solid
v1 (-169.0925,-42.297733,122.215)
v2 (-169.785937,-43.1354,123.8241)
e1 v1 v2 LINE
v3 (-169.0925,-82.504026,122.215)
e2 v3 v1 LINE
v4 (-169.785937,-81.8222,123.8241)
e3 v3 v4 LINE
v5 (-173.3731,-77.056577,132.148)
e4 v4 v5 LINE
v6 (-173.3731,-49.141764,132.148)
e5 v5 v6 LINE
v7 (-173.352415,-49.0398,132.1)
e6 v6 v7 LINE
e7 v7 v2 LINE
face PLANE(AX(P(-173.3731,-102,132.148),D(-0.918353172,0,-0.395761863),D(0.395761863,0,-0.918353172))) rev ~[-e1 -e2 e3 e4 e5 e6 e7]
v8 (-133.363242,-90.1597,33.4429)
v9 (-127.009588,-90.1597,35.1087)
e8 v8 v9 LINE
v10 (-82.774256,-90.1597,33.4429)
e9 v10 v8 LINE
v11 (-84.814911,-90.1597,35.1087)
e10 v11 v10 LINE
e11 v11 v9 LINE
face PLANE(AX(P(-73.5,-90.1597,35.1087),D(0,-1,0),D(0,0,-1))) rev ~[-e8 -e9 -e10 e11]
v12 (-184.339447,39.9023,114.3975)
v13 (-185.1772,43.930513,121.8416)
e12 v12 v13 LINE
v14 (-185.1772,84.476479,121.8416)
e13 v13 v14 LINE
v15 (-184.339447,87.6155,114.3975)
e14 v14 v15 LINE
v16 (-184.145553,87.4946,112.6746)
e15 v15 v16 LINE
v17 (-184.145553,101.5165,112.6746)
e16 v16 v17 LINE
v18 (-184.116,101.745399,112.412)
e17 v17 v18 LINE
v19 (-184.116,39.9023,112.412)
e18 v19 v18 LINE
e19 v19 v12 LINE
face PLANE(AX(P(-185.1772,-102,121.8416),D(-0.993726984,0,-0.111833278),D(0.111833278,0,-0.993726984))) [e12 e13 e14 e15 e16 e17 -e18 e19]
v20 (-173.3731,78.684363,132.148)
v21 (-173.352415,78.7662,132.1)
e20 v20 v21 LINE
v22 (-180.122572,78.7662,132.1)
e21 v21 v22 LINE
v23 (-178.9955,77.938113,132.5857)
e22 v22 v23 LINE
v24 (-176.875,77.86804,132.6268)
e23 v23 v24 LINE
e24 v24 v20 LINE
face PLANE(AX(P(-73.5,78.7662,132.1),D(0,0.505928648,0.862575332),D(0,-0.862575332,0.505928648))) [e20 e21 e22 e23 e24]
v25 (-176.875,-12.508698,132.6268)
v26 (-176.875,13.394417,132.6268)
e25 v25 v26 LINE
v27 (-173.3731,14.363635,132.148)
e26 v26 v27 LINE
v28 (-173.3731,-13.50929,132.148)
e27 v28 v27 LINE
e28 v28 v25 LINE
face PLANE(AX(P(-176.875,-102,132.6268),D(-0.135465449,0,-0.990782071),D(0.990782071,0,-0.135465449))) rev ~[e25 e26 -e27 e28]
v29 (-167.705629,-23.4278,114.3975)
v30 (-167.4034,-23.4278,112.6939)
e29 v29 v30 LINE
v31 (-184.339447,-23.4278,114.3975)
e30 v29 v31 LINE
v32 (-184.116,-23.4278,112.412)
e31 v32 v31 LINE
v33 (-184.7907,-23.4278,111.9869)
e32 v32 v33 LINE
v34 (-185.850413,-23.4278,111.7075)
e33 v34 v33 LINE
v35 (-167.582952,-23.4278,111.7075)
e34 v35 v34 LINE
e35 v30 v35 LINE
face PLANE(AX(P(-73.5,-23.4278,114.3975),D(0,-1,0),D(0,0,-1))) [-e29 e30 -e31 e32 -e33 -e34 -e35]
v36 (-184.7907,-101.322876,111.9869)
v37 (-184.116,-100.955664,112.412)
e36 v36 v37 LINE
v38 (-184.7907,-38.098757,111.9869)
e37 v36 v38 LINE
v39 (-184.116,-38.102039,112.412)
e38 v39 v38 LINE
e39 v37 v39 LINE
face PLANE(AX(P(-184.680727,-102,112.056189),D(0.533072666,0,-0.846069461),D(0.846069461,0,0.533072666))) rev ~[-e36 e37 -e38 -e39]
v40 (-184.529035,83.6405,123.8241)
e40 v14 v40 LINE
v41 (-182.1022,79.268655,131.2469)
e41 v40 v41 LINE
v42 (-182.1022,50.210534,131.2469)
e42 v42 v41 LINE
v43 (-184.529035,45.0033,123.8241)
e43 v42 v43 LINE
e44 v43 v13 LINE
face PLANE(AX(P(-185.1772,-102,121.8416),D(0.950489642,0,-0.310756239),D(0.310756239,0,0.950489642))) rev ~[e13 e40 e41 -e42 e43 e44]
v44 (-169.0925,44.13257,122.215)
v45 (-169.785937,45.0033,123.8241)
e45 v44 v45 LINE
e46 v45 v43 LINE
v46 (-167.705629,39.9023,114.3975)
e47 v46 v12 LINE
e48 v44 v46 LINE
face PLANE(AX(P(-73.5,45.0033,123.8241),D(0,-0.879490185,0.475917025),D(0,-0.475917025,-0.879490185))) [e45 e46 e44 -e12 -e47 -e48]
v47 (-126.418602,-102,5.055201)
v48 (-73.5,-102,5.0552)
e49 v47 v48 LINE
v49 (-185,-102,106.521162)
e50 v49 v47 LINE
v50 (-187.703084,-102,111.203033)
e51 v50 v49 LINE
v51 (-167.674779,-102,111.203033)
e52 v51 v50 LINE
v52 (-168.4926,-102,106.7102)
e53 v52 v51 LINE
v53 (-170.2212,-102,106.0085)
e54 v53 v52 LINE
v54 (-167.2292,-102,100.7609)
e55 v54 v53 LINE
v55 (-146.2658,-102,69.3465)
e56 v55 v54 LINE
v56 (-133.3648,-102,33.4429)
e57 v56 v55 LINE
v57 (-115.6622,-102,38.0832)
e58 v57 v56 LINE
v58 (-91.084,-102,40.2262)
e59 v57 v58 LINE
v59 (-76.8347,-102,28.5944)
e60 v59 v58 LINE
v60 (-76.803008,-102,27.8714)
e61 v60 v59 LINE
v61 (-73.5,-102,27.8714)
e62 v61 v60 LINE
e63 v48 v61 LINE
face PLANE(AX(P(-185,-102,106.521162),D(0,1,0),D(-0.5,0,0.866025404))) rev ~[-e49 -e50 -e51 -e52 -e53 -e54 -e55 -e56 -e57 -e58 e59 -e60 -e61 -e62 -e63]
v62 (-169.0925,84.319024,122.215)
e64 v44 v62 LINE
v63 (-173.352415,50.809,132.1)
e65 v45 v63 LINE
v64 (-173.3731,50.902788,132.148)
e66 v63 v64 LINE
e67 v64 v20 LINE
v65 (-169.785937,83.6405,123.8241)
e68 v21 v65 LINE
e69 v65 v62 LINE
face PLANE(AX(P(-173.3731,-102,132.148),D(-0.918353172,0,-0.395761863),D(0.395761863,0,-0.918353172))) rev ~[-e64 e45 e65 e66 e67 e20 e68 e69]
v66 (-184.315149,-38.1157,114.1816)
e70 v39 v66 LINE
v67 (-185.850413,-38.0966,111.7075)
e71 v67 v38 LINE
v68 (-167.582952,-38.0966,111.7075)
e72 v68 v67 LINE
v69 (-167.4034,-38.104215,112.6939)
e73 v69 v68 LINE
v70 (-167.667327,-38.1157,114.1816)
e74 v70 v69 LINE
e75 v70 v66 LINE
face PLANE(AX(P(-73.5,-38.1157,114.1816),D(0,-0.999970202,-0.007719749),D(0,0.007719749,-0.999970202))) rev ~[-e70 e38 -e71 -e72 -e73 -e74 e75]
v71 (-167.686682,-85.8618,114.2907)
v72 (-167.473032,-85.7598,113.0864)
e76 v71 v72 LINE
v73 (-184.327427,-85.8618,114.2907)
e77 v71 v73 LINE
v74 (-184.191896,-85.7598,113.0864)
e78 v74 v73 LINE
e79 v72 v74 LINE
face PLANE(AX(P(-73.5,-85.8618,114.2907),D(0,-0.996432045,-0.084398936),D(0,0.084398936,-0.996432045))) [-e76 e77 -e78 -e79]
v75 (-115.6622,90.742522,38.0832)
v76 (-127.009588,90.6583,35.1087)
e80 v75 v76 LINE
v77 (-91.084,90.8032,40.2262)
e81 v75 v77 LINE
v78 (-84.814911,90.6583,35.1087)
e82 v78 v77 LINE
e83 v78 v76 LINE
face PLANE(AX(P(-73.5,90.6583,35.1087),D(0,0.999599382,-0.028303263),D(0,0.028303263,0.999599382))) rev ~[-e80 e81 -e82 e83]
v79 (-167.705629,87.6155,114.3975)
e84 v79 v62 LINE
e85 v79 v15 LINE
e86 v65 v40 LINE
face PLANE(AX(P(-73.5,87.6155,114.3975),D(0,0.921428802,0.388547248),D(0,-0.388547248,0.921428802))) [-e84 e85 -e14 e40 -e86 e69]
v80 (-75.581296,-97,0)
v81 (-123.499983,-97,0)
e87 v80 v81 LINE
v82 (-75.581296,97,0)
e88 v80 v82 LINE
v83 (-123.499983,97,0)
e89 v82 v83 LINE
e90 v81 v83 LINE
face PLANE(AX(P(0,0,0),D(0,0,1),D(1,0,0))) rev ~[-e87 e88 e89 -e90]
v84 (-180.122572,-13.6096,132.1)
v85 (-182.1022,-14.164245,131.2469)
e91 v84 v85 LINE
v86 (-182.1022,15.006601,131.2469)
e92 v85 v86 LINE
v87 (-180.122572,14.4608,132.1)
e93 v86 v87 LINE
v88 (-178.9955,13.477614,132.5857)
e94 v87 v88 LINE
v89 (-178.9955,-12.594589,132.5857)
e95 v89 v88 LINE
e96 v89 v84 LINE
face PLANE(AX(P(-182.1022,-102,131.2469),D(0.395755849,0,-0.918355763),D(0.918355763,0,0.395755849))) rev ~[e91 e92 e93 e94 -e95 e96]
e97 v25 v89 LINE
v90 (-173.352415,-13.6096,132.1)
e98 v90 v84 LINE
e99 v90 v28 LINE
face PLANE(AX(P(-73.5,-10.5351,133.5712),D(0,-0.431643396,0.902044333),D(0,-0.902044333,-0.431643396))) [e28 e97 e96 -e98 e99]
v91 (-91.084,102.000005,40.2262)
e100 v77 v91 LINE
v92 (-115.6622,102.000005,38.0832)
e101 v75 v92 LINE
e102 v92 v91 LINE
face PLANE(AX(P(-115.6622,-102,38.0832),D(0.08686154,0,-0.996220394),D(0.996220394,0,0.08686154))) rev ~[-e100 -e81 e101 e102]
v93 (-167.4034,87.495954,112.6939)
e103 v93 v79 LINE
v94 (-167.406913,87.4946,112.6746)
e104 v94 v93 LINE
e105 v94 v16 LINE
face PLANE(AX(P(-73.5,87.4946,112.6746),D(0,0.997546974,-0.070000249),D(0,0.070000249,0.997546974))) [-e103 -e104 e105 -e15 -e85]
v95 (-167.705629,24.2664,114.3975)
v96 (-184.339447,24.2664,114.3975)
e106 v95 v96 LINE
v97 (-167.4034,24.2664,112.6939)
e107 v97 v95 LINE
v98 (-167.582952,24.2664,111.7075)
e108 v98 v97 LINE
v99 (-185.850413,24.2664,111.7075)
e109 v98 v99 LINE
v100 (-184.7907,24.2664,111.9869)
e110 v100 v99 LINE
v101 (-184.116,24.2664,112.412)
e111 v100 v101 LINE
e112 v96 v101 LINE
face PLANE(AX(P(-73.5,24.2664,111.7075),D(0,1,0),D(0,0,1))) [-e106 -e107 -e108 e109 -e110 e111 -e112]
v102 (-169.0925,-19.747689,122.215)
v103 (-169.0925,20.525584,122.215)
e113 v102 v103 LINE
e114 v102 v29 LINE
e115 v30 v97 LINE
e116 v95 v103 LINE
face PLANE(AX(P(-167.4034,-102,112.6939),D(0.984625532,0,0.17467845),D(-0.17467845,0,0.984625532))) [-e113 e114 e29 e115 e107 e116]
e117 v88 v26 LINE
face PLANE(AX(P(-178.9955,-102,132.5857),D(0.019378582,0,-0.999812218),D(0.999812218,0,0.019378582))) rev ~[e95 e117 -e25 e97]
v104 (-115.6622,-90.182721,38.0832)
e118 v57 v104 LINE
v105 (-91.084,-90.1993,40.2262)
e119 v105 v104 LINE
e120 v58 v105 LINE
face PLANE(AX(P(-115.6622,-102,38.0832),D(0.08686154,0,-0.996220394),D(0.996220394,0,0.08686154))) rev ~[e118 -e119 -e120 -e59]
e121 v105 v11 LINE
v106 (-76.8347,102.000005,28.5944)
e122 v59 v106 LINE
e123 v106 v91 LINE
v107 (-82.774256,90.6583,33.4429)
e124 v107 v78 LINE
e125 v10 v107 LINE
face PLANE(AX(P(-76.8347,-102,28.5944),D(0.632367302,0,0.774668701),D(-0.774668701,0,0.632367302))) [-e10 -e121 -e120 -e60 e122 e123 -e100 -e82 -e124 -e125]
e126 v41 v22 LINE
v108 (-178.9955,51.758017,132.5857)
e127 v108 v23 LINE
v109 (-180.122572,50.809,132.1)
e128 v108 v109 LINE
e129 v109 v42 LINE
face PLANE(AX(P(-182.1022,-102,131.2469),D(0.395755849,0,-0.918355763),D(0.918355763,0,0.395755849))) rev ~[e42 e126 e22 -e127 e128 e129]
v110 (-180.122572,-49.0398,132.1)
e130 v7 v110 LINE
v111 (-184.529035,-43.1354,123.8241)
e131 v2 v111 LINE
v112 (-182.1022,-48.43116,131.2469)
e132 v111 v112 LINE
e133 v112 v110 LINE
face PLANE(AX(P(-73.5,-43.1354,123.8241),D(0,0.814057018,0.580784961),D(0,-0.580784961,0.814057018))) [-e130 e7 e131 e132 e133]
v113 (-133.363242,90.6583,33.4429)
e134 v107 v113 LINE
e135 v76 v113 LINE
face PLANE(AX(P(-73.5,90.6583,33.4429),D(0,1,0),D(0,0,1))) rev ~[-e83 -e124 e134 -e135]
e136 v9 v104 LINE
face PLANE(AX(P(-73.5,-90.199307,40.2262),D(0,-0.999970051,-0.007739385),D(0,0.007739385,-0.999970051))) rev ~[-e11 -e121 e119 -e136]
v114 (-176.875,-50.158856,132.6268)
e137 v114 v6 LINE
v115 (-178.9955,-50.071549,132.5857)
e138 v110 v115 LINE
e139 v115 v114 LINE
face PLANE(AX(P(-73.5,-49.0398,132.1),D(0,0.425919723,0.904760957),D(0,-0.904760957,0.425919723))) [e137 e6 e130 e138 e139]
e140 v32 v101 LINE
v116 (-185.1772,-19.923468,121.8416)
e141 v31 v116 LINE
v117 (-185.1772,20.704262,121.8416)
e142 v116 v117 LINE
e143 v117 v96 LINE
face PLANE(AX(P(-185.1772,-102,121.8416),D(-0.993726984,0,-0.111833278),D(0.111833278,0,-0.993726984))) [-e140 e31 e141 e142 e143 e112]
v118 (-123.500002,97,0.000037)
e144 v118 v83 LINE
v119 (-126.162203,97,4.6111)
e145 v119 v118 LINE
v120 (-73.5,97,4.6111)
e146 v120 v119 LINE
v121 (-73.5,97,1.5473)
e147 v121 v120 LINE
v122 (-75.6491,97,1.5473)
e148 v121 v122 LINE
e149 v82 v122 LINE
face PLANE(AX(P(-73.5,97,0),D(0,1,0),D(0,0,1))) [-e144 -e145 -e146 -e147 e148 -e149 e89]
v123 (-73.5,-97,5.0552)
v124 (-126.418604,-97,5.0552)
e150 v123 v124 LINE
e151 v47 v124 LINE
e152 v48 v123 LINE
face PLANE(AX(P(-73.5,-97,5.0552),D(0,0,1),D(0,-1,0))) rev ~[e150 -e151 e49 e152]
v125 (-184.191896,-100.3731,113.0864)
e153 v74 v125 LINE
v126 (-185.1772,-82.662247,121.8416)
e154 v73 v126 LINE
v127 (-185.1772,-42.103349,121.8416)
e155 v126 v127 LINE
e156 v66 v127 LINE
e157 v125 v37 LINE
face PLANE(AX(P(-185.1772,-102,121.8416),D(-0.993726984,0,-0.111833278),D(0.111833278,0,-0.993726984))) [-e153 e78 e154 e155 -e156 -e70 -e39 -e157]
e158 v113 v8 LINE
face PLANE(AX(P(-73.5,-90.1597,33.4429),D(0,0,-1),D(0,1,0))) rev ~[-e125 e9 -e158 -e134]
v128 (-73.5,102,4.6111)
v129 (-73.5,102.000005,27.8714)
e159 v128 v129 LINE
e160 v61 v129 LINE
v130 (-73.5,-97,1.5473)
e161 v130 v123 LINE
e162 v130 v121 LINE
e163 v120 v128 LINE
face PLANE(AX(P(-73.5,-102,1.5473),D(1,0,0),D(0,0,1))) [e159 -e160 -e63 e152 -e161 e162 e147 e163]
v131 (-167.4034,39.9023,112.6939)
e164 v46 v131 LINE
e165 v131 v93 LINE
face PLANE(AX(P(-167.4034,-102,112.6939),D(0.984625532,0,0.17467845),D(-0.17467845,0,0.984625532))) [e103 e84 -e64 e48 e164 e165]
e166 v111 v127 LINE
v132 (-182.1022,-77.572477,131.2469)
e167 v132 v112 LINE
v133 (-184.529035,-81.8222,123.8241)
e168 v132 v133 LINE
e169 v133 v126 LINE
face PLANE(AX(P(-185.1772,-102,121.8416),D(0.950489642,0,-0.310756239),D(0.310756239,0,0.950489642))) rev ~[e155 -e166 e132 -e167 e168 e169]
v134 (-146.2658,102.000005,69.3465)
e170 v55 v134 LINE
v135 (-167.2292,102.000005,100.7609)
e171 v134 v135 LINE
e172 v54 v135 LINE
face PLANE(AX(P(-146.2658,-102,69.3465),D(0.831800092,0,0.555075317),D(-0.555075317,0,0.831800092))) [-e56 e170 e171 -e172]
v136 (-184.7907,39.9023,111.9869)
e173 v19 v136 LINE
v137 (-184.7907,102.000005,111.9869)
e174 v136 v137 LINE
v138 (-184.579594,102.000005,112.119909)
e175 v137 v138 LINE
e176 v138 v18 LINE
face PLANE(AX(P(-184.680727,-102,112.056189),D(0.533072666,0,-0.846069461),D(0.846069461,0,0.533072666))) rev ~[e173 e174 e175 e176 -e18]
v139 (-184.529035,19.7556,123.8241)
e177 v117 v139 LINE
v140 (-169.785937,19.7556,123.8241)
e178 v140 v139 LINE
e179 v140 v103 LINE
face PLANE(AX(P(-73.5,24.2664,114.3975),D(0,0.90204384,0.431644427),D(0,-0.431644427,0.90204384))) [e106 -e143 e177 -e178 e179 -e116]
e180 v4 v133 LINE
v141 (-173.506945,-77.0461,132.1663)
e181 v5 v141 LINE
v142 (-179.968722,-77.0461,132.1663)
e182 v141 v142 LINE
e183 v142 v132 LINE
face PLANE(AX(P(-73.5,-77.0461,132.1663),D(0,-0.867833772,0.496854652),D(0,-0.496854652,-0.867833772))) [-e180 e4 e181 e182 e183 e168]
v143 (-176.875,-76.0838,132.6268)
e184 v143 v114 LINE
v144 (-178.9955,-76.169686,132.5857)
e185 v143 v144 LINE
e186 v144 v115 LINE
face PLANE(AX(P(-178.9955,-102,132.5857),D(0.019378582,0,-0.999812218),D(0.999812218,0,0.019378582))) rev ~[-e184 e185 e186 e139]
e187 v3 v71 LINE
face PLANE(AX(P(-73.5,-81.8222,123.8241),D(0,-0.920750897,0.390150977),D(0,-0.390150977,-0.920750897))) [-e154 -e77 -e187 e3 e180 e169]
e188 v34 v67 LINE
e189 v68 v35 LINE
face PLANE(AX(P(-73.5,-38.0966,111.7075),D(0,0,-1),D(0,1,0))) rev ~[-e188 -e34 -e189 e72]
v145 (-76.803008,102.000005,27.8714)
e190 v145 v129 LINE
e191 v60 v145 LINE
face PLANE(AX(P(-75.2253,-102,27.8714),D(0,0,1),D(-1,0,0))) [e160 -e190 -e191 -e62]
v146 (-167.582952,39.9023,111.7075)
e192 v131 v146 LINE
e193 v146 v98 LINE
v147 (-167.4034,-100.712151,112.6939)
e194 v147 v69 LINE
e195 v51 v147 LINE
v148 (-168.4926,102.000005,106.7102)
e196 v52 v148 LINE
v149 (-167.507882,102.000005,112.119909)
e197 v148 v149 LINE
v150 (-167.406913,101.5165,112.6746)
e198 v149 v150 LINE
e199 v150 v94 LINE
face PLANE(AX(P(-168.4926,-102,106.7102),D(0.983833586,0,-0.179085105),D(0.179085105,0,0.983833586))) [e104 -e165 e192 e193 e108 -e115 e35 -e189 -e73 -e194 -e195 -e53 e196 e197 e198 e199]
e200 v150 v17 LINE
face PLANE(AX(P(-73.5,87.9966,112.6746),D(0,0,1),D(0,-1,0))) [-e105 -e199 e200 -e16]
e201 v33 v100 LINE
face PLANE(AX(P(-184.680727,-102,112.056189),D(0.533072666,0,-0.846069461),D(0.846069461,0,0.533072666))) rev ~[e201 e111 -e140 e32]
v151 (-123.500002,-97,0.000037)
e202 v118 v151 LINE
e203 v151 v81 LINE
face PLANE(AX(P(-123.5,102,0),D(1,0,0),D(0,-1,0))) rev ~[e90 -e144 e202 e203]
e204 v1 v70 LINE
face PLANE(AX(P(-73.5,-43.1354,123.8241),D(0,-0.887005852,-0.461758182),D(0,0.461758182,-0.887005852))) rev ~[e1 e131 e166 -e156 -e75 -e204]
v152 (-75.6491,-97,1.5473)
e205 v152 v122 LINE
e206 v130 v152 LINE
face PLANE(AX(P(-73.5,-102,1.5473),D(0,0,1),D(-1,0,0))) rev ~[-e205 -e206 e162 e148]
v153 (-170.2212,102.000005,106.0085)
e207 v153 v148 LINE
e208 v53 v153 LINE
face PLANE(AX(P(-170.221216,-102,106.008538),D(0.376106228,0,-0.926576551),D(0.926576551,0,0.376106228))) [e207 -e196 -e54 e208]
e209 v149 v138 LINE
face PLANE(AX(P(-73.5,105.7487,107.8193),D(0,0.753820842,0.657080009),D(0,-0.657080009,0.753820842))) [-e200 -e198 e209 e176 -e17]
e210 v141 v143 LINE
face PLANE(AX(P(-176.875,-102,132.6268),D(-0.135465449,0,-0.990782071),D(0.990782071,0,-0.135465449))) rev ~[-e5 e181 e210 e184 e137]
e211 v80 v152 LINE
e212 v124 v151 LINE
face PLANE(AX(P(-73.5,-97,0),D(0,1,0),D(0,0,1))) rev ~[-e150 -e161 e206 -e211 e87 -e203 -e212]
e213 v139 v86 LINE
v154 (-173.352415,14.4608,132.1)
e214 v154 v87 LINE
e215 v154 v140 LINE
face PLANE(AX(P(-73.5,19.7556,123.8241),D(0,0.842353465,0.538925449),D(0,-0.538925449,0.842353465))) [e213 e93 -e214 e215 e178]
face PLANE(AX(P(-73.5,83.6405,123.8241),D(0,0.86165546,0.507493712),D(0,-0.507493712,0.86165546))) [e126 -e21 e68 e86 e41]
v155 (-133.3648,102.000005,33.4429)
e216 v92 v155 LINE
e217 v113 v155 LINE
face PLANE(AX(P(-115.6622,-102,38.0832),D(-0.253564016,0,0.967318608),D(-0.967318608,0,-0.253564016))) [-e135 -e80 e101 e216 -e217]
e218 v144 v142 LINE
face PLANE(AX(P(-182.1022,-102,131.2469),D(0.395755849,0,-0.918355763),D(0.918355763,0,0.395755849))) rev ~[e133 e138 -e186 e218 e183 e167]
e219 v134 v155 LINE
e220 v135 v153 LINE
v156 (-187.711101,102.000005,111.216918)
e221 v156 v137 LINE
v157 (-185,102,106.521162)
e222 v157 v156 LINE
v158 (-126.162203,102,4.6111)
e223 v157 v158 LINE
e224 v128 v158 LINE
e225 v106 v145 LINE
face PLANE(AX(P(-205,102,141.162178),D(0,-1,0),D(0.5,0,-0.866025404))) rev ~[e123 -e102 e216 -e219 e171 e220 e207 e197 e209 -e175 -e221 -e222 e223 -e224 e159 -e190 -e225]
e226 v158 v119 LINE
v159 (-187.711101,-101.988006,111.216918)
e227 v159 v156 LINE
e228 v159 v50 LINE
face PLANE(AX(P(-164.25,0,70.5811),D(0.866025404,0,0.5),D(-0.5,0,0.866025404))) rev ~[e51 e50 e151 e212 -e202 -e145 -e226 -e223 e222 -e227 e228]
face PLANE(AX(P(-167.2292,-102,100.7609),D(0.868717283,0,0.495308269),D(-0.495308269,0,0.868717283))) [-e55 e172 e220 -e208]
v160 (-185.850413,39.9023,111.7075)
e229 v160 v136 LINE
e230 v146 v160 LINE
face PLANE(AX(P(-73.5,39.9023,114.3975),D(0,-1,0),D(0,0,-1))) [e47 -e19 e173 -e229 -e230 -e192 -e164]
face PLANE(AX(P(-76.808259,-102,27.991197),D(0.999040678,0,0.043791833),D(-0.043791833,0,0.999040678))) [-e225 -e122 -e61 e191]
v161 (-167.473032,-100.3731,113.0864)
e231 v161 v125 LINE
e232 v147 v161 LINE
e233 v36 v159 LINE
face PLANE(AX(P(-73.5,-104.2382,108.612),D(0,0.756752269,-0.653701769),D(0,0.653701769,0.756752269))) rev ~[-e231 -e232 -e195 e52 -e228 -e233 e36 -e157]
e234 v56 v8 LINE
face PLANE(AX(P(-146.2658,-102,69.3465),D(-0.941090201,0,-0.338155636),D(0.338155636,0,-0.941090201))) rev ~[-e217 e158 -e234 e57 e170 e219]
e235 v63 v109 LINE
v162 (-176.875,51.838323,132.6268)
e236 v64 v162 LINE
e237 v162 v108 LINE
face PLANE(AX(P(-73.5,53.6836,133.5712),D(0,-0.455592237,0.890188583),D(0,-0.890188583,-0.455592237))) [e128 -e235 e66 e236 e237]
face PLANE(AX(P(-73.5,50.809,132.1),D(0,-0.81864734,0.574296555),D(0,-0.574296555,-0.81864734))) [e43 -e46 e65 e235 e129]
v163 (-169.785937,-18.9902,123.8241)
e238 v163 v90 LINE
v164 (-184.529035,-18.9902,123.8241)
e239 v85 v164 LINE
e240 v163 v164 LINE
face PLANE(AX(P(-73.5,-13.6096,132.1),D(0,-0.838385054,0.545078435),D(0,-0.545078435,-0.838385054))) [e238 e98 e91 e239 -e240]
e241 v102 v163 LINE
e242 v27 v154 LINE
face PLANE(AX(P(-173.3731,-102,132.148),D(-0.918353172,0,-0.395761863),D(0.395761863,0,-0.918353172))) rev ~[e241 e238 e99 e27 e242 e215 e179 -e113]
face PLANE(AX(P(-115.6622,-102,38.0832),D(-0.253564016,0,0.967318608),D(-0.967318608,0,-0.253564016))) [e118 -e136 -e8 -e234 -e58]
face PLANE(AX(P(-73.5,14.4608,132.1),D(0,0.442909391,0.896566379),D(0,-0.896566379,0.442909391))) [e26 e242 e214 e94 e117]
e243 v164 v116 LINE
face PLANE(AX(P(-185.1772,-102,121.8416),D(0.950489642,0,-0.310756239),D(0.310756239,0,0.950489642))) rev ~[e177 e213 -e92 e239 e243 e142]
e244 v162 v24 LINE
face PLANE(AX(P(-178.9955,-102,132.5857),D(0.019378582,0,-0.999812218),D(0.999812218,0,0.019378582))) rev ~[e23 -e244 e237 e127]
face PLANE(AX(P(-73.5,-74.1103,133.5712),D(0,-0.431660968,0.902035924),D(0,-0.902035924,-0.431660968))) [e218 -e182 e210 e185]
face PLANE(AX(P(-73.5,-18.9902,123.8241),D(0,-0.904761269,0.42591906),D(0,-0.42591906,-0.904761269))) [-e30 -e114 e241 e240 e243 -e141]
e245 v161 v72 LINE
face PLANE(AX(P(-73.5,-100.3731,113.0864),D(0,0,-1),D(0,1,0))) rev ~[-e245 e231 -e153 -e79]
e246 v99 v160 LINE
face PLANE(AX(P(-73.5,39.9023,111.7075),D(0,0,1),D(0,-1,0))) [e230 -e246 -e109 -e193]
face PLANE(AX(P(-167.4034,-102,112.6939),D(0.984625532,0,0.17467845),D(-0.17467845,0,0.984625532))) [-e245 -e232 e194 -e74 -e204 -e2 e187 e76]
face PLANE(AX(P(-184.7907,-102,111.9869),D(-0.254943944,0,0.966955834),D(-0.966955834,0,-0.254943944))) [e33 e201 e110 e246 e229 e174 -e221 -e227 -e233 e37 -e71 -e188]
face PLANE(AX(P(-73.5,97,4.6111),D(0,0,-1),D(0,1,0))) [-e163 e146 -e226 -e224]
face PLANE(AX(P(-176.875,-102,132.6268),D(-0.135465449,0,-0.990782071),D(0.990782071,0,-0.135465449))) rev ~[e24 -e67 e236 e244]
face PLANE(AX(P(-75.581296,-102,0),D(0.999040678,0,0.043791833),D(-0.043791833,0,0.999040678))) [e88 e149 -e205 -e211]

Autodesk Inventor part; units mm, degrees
ref_plane "YZ Plane" through (0, 0, 0) normal (1, 0, 0) x (0, 1, 0)
ref_plane "XZ Plane" through (0, 0, 0) normal (0, 1, 0) x (-1, 0, 0)
ref_plane "XY Plane" through (0, 0, 0) normal (0, 0, 1) x (1, 0, 0)
ref_plane "РабПлоскость1" through (0, 0, 0) normal (0, 0, 1) x (1, 0, 0)
sketch "Эскиз1" plane through (0, 0, 0) normal (0, 0, 1) x (1, 0, 0)
  line L0 (-185, -102) -> (-185, 102) projected
  line L1 (-123.5, -102) -> (-185, -102) projected
  line L2 (-123.5, 102) -> (-123.5, -102) projected
  line L3 (-185, 102) -> (-123.5, 102) projected
  line L4 (-123.5, 102) -> (-123.5, -102) projected
  line L5 (-123.5, -102) -> (123.5, -102) projected
  line L6 (123.5, -102) -> (123.5, -100.4305) projected
  line L7 (123.5, -100.4305) -> (123.5, 102) projected
  line L8 (123.5, 102) -> (-123.5, 102) projected
  line L9 (-123.5, -102) -> (-73.5, -102)
  line L10 (-73.5, -102) -> (-73.5, 102)
  line L11 (-73.5, 102) -> (-123.5, 102)
  line L12 (-123.5, 102) -> (-123.5, -102)
  point P0 (0, 0)
  dimension "d0" = 50
extrude "Выдавливание1" add sketch "Эскиз1" along normal blind 45 contours L2 L8 L10 L5
ref_plane "РабПлоскость2" through (-154.25, 0, 53.2606) normal (0.866, 0, 0.5) x (0, 1, 0)
sketch "Эскиз2" plane through (-154.25, 0, 53.2606) normal (0.866, 0, 0.5) x (0, 1, 0)
  line L0 (-102, 61.5) -> (102, 61.5) projected
  line L1 (-102, -61.5) -> (-102, 61.5) projected
  line L2 (102, -61.5) -> (-102, -61.5) projected
  line L3 (102, 61.5) -> (102, -61.5) projected
  line L4 (102, -61.5) -> (-102, -61.5) projected
  line L5 (-102, -61.5) -> (-102, -185) projected
  line L6 (-102, -185) -> (-100.4305, -185) projected
  line L7 (-100.4305, -185) -> (102, -185) projected
  line L8 (102, -185) -> (102, -61.5) projected
  line L9 (102, -61.5) -> (-102, -61.5) projected
  line L10 (-102, -61.5) -> (-102, -22.5289) projected
  line L11 (102, -22.5289) -> (-102, -22.5289) projected
  line L12 (102, -61.5) -> (102, -22.5289) projected
  line L13 (-102, -61.5) -> (102, -61.5)
  line L14 (102, -61.5) -> (102, 61.5)
  line L15 (102, 61.5) -> (-102, 61.5)
  line L16 (-102, 61.5) -> (-102, -61.5)
  line L17 (-102, 61.5) -> (102, 61.5)
  line L18 (102, 61.5) -> (102, 101.5)
  line L19 (102, 101.5) -> (-102, 101.5)
  line L20 (-102, 101.5) -> (-102, 61.5)
  point P0 (0, -123.25)
  dimension "d3" = 40
extrude "Выдавливание2" add sketch "Эскиз2" along normal blind 50 contours L20 L19 L18 L0 | L0 L3 L11 L1 | L11 L3 L2 L1
sketch "Эскиз3" plane through (-73.5, -102, 0) normal (0, -1, 0) x (1, 0, 0)
  line L0 (-108.6908, 129.6314) -> (-111.6772, 121.8416)
  line L1 (-105.4631, 130.9264) -> (-108.6908, 129.6314)
  line L2 (-103.4661, 130.9653) -> (-105.4631, 130.9264)
  line L3 (-100.0404, 130.4564) -> (-103.4661, 130.9653)
  line L4 (-95.5925, 122.215) -> (-100.0404, 130.4564)
  line L5 (-93.9034, 112.6939) -> (-95.5925, 122.215)
  line L6 (-111.6772, 121.8416) -> (-110.616, 112.412)
  line L7 (-111.3059, 112.062) -> (-115.4641, 110.9539)
  line L8 (-104.8347, 111.7616) -> (-111.3059, 112.062)
  line L9 (-99.8505, 111.497) -> (-104.8347, 111.7616)
  line L10 (-115.4641, 110.9539) -> (-114.6124, 106.4901)
  line L11 (-93.7292, 100.7609) -> (-99.8505, 111.497)
  line L12 (-72.7658, 69.3465) -> (-93.7292, 100.7609)
  line L13 (-63.261, 43.1561) -> (-72.1915, 66.6367)
  line L14 (-57.7493, 27.3924) -> (-63.261, 43.1561)
  line L15 (-42.1622, 38.0832) -> (-61.3633, 33.05)
  line L16 (-3.3347, 28.5944) -> (-17.584, 40.2262)
  line L17 (-2.0035, -1.7748) -> (-3.3347, 28.5944)
  line L18 (-42.1622, 38.0832) -> (-17.584, 40.2262)
  line L19 (-111.2907, 111.9869) -> (-115.4518, 110.8898)
  line L20 (-115.4478, 110.4521) -> (-115.4518, 110.8898)
  line L21 (-94.9926, 106.7102) -> (-93.9034, 112.6939)
  line L22 (-97.6358, 105.6373) -> (-94.9926, 106.7102)
  line L23 (-114.6124, 106.4901) -> (-115.4518, 110.8898)
  line L24 (-111.2907, 111.9869) -> (-110.616, 112.412)
  line L25 (-111.6772, 121.8416) -> (-108.6022, 131.2469)
  line L26 (-108.6022, 131.2469) -> (-105.4955, 132.5857)
  line L27 (-105.4955, 132.5857) -> (-103.375, 132.6268)
  line L28 (-103.375, 132.6268) -> (-99.8731, 132.148)
  line L29 (-99.8731, 132.148) -> (-95.5925, 122.215)
  line L30 (-95.5925, 122.215) -> (-93.9034, 112.6939)
  line L31 (-94.9926, 106.7102) -> (-93.9034, 112.6939)
  line L32 (-94.9926, 106.7102) -> (-96.7212, 106.0085)
  line L33 (-96.7212, 106.0085) -> (-93.7292, 100.7609)
  line L34 (-93.7292, 100.7609) -> (-72.7658, 69.3465)
  line L35 (-72.7658, 69.3465) -> (-59.8648, 33.4429)
  line L36 (-59.8648, 33.4429) -> (-42.1622, 38.0832)
  line L37 (-42.1622, 38.0832) -> (-17.584, 40.2262)
  line L38 (-17.584, 40.2262) -> (-3.3347, 28.5944)
  line L39 (-3.3347, 28.5944) -> (-3.3082, 27.9912)
  line L40 (-2.1491, 1.5473) -> (-2.1491, 0.2174)
  line L41 (-2.1491, 0.2174) -> (-50.02, 0.2174)
  line L42 (-114.6455, 106.6636) -> (-115.4518, 110.8898)
  line L43 (-50, 0) -> (0, 0) projected
  line L44 (-50, 0) -> (-111.4821, 106.4901)
  line L45 (-50, 0) -> (-131.5, 141.1621) projected
  line L46 (-111.4821, 106.4901) -> (-114.6124, 106.4901)
  line L47 (0, 0) -> (0, 45) projected
  line L48 (0, 1.5473) -> (-1.7253, 27.8714)
  line L49 (0, 1.5473) -> (-8.568, 1.5473)
  line L50 (-1.7253, 27.8714) -> (-6.6021, 27.8714)
  line L51 (0, 1.5473) -> (0, 27.8714)
  line L52 (0, 0) -> (0, 45) projected
  line L53 (0, 27.8714) -> (-1.7253, 27.8714)
  point P0 (73.5, 0)
  point P1 (-3.303, 27.8714)
  point P2 (-2.0813, 0)
  point P3 (-2.1491, 1.5473)
  point P4 (0, 27.8714)
sketch "Эскиз4" plane through (-154.25, 0, 53.2606) normal (-0.866, 0, -0.5) x (-0.5, 0, 0.866)
  line L0 (111.8349, 102) -> (121.8349, 82) projected
  line L1 (111.8349, 102) -> (61.5, 102) projected
  line L2 (61.5, -102) -> (61.5, 102) projected
  line L3 (61.5, -102) -> (111.8349, -102) projected
  line L4 (121.8349, -82) -> (111.8349, -102) projected
  line L5 (121.8349, -82) -> (121.8349, 82) projected
  line L6 (101.5, 102) -> (101.5, -102) projected
  line L7 (-61.5, 102) -> (101.5, 102) projected
  line L8 (-61.5, 102) -> (-61.5, -102) projected
  line L9 (101.5, -102) -> (-61.5, -102) projected
  line L10 (101.5, 102) -> (101.5, -102) projected
  line L11 (101.5, 102) -> (61.5, 102)
  line L12 (61.5, 102) -> (61.5, -102)
  line L13 (61.5, -102) -> (101.5, -102)
  line L14 (101.5, -102) -> (101.5, 102)
  point P0 (-123.25, 0)
  point P1 (101.5, -102)
extrude "Выдавливание3" add sketch "Эскиз4" along normal blind 10 contours L6 L3 L2 L1
extrude "Выдавливание4" cut sketch "Эскиз3" against normal through all contours L1 L2 L3 L4 L5 L21 L22 L11 L9 L8 L24 L6 L0 | L0 L25 L26 L27 L28 L29 L4 L3 L2 L1 | L8 L9 L11 L12 L35 L15 L18 L16 L17 L43 L44 L45 L19 L24 | L45 L46 L10 L19 | L17 L50 L48 L49 | L48 L53 L47 keep common part
sketch "Эскиз5" plane through (-73.5, -102, 27.8714) normal (1, 0, 0) x (0, 0, -1)
  line L0 (0, 0) -> (0, 204) construction
  line L1 (0, 0) -> (0, 204) construction
  line L2 (-0.723, 204) -> (-12.3548, 204) projected
  line L3 (-12.3548, 0) -> (-12.3548, 204) construction
  line L4 (-12.3548, 0) -> (-0.723, 0) projected
  line L5 (-0.723, 0) -> (-0.723, 204) construction
  line L6 (-12.3548, 204) -> (-10.2118, 204) projected
  line L7 (-10.2118, 0) -> (-10.2118, 204) construction
  line L8 (-10.2118, 0) -> (-12.3548, 0) projected
  line L9 (-12.3548, 0) -> (-12.3548, 204) construction
  line L10 (-10.2118, 204) -> (-5.5715, 204) projected
  line L11 (-5.5715, 0) -> (-5.5715, 204) construction
  line L12 (-5.5715, 0) -> (-10.2118, 0) projected
  line L13 (-10.2118, 0) -> (-10.2118, 204) construction
  line L14 (-5.5715, 204) -> (-41.4751, 204) projected
  line L15 (-41.4751, 0) -> (-41.4751, 204) construction
  line L16 (-41.4751, 0) -> (-5.5715, 0) projected
  line L17 (-5.5715, 0) -> (-5.5715, 204) construction
  line L18 (-41.4751, 204) -> (-72.8895, 204) projected
  line L19 (-72.8895, 0) -> (-72.8895, 204) construction
  line L20 (-72.8895, 0) -> (-41.4751, 0) projected
  line L21 (-41.4751, 0) -> (-41.4751, 204) construction
  line L22 (-72.8895, 204) -> (-78.1371, 204) projected
  line L23 (-78.1371, 0) -> (-78.1371, 204) construction
  line L24 (-78.1371, 0) -> (-72.8895, 0) projected
  line L25 (-72.8895, 0) -> (-72.8895, 204) construction
  line L26 (-84.8225, 204) -> (-94.3436, 204) projected
  line L27 (-94.3436, 0) -> (-94.3436, 204) construction
  line L28 (-94.3436, 0) -> (-84.8225, 0) projected
  line L29 (-84.8225, 0) -> (-84.8225, 204) construction
  line L30 (-94.3436, 204) -> (-104.2766, 204) projected
  line L31 (-104.2766, 0) -> (-104.2766, 204) construction
  line L32 (-104.2766, 0) -> (-94.3436, 0) projected
  line L33 (-94.3436, 0) -> (-94.3436, 204) construction
  line L34 (-104.2766, 204) -> (-104.7554, 204) projected
  line L35 (-104.7554, 0) -> (-104.7554, 204) construction
  line L36 (-104.7554, 0) -> (-104.2766, 0) projected
  line L37 (-104.2766, 0) -> (-104.2766, 204) construction
  line L38 (-79.9479, 207.7487) -> (-84.8032, 203.5165)
  line L39 (-84.8032, 203.5165) -> (-84.8032, 189.9966)
  line L40 (-84.8032, 189.9966) -> (-84.8032, 189.4946)
  line L41 (-84.8032, 189.4946) -> (-86.5261, 189.6155)
  line L42 (-86.5261, 189.6155) -> (-95.9527, 185.6405)
  line L43 (-95.9527, 185.6405) -> (-104.2286, 180.7662)
  line L44 (-104.2286, 180.7662) -> (-105.6998, 178.2579)
  line L45 (-105.6998, 178.2579) -> (-105.6998, 155.6836)
  line L46 (-105.6998, 155.6836) -> (-104.2286, 152.809)
  line L47 (-104.2286, 152.809) -> (-95.9527, 147.0033)
  line L48 (-95.9527, 147.0033) -> (-86.5261, 141.9023)
  line L49 (-86.5261, 141.9023) -> (-83.8361, 141.9023)
  line L50 (-83.8361, 141.9023) -> (-83.8361, 126.2664)
  line L51 (-83.8361, 126.2664) -> (-86.5261, 126.2664)
  line L52 (-86.5261, 126.2664) -> (-95.9527, 121.7556)
  line L53 (-95.9527, 121.7556) -> (-104.2286, 116.4608)
  line L54 (-104.2286, 116.4608) -> (-105.6998, 113.4827)
  line L55 (-105.6998, 113.4827) -> (-105.6998, 91.4649)
  line L56 (-105.6998, 91.4649) -> (-104.2286, 88.3904)
  line L57 (-104.2286, 88.3904) -> (-95.9527, 83.0098)
  line L58 (-95.9527, 83.0098) -> (-86.5261, 78.5722)
  line L59 (-86.5261, 78.5722) -> (-83.8361, 78.5722)
  line L60 (-83.8361, 78.5722) -> (-83.8361, 78.5722)
  line L61 (-95.9527, 58.8646) -> (-104.2286, 52.9602)
  line L62 (-104.2286, 52.9602) -> (-105.6998, 49.835)
  line L63 (-105.6998, 49.835) -> (-105.6998, 27.8897)
  line L64 (-105.6998, 27.8897) -> (-104.2949, 24.9539)
  line L65 (-104.2949, 24.9539) -> (-95.9527, 20.1778)
  line L66 (-95.9527, 20.1778) -> (-86.4193, 16.1382)
  line L67 (-86.4193, 16.1382) -> (-83.8361, 16.357)
  line L68 (-83.8361, 16.357) -> (-83.8361, 16.357)
  line L69 (-95.9527, 58.8646) -> (-86.3102, 63.8843)
  line L70 (-86.3102, 63.8843) -> (-83.8361, 63.9034)
  line L71 (-83.8361, 63.9034) -> (-83.8361, 78.5722)
  line L72 (-79.9479, 207.7487) -> (-66.9821, 209.4381)
  line L73 (-66.9821, 209.4381) -> (-41.1997, 209.4381)
  line L74 (-41.1997, 209.4381) -> (-14.9178, 205.9692)
  line L75 (-14.9178, 205.9692) -> (-13.7255, 207.2288)
  line L76 (-13.7255, 207.2288) -> (-5.445, 207.1235)
  line L77 (-5.445, 207.1235) -> (19.6874, 206.8037)
  line L78 (19.6874, 206.8037) -> (23.2689, 204.6715)
  line L79 (23.2689, 204.6715) -> (23.2603, 204)
  line L80 (27.8714, 204) -> (27.8714, 5)
  line L81 (27.8714, 5) -> (22.8162, 5)
  line L82 (22.8162, 5) -> (22.8162, -0.7369)
  line L83 (22.8162, -0.7369) -> (19.0771, -2.2962)
  line L84 (19.0771, -2.2962) -> (-14.3617, -2.5553)
  line L85 (-14.3617, -2.5553) -> (-18.3756, 1.978)
  line L86 (-18.3756, 1.978) -> (-18.3756, 6.9468)
  line L87 (-18.3756, 6.9468) -> (-14.4728, 11.7843)
  line L88 (-14.4728, 11.7843) -> (-7.2373, 11.8403)
  line L89 (-7.2373, 11.8403) -> (-7.2373, 192.6157)
  line L90 (-7.2373, 192.6157) -> (-13.7255, 192.8411)
  line L91 (-13.7255, 192.8411) -> (-17.7394, 197.6844)
  line L92 (-17.7394, 197.6844) -> (-17.7394, 202.5296)
  line L93 (-17.7394, 202.5296) -> (-13.7255, 207.2288)
  line L94 (-14.3617, -2.5553) -> (-16.3687, -0.2886)
  line L95 (-16.3687, -0.2886) -> (-40.0618, -4.056)
  line L96 (-40.0618, -4.056) -> (-41.8359, -4.0697)
  line L97 (-41.8359, -4.0697) -> (-67.6183, -4.0697)
  line L98 (-67.6183, -4.0697) -> (-77.5196, -2.7629)
  line L99 (-77.5196, -2.7629) -> (-80.7406, -2.2382)
  line L100 (-80.7406, -2.2382) -> (-85.215, 1.6269)
  line L101 (-85.215, 1.6269) -> (-85.215, 9.2117)
  line L102 (-85.215, 9.2117) -> (-85.215, 16.2402)
  line L103 (27.8714, 0) -> (27.8714, 204) projected
  line L104 (27.8714, 204) -> (27.8714, 0) projected
  line L105 (27.8714, 199) -> (23.2603, 199)
  line L106 (23.2603, 199) -> (23.2603, 204)
  line L107 (29.4197, 204) -> (-28.798, 204)
  line L108 (-78.6497, 0) -> (27.8714, 0) projected
  line L109 (-12.3548, 11.8007) -> (-12.3548, 192.7935)
  point P0 (27.8714, 102)
  point P1 (22.8162, 0)
  point P2 (-16.4835, 204)
  point P3 (-104.2766, 180.6842)
  point P4 (-104.2766, 152.9028)
  point P5 (-104.2766, 116.3636)
  point P6 (-104.2766, 88.4908)
  point P7 (-104.2766, 52.8582)
  point P8 (-104.2766, 24.9434)
  point P9 (-84.8225, 16.2734)
  point P10 (-84.8225, 1.2878)
  point P11 (-16.6242, 0)
  point P12 (-94.3436, 82.2523)
  point P13 (-94.3436, 59.7022)
  point P14 (-94.3436, 146.1326)
  point P15 (-94.3436, 122.5256)
  point P16 (-13.7255, 207.2288)
  point P17 (-104.7554, 153.8384)
  point P18 (-104.7554, 115.3943)
  point P19 (-104.7554, 89.4914)
  point P20 (-104.7554, 51.841)
  point P21 (-104.7554, 25.9162)
  point P22 (-104.2766, 24.9434)
  point P23 (-104.2766, 180.6842)
  point P24 (-104.7554, 179.8679)
  point P25 (-104.2766, 152.9028)
  point P26 (-104.2766, 116.3636)
  point P27 (-104.2766, 88.4908)
  point P28 (-104.2766, 52.8582)
  dimension "d10" = 204
  dimension "d12" = 5
  dimension "d13" = 5
sketch "Эскиз7" plane through (-73.5, -102, 27.8714) normal (1, 0, 0) x (0, 0, -1)
  line L0 (-14.4728, 11.7843) -> (-7.2373, 11.8403) projected
  line L1 (-7.2373, 11.8403) -> (-7.2373, 192.6583)
  line L2 (-5.5715, 0) -> (-5.5715, 204) projected
  line L3 (-7.2373, 192.6583) -> (-12.3548, 192.8032)
  line L4 (-12.3548, 0) -> (-12.3548, 204) projected
  line L5 (-12.3548, 192.8032) -> (-12.3548, 11.8007)
  line L6 (-12.3548, 11.8007) -> (-7.2373, 11.8403)
  line L7 (-7.2373, 192.6583) -> (-12.3548, 192.8032)
  line L8 (-7.2373, 11.8403) -> (-5.5715, 11.8403)
  line L9 (-5.5715, 192.6583) -> (-7.2373, 192.6583)
  line L10 (-5.5715, 11.8403) -> (-5.5715, 192.6583)
  point P0 (27.8714, 102)
extrude "Выдавливание6" cut sketch "Эскиз7" against normal up to surface surface through (-146.2658, -102, 69.3465) normal (0.9411, 0, 0.3382)
extrude "Выдавливание7" cut sketch "Эскиз5" against normal up to surface contours L107 L106 L105 L80 L81 L82 L108 L4 L16 L85 L86 L87 L88 L89 L90 L91 L92 L93 L14 L2 | L2 L14 L93 L76 L77 L78 L79 L107 | L93 L92 L91 L90 L109 L88 L87 L86 L85 L95 L96 L97 L98 L99 L100 L101 L102 L67 L66 L65 L64 L63 L62 L61 L69 L70 L71 L59 L58 L57 L56 L55 L54 L53 L52 L51 L50 L49 L48 L47 L46 L45 L44 L43 L42 L41 L40 L39 L38 L72 L73 L74 L75 | L82 L83 L84 L85 L16 L4 L108 | L90 L89 L88 L109 surface through (-164.25, 0, 70.5811) normal (0.866, 0, 0.5) keep common part
properties part number "Задние_кресла"
